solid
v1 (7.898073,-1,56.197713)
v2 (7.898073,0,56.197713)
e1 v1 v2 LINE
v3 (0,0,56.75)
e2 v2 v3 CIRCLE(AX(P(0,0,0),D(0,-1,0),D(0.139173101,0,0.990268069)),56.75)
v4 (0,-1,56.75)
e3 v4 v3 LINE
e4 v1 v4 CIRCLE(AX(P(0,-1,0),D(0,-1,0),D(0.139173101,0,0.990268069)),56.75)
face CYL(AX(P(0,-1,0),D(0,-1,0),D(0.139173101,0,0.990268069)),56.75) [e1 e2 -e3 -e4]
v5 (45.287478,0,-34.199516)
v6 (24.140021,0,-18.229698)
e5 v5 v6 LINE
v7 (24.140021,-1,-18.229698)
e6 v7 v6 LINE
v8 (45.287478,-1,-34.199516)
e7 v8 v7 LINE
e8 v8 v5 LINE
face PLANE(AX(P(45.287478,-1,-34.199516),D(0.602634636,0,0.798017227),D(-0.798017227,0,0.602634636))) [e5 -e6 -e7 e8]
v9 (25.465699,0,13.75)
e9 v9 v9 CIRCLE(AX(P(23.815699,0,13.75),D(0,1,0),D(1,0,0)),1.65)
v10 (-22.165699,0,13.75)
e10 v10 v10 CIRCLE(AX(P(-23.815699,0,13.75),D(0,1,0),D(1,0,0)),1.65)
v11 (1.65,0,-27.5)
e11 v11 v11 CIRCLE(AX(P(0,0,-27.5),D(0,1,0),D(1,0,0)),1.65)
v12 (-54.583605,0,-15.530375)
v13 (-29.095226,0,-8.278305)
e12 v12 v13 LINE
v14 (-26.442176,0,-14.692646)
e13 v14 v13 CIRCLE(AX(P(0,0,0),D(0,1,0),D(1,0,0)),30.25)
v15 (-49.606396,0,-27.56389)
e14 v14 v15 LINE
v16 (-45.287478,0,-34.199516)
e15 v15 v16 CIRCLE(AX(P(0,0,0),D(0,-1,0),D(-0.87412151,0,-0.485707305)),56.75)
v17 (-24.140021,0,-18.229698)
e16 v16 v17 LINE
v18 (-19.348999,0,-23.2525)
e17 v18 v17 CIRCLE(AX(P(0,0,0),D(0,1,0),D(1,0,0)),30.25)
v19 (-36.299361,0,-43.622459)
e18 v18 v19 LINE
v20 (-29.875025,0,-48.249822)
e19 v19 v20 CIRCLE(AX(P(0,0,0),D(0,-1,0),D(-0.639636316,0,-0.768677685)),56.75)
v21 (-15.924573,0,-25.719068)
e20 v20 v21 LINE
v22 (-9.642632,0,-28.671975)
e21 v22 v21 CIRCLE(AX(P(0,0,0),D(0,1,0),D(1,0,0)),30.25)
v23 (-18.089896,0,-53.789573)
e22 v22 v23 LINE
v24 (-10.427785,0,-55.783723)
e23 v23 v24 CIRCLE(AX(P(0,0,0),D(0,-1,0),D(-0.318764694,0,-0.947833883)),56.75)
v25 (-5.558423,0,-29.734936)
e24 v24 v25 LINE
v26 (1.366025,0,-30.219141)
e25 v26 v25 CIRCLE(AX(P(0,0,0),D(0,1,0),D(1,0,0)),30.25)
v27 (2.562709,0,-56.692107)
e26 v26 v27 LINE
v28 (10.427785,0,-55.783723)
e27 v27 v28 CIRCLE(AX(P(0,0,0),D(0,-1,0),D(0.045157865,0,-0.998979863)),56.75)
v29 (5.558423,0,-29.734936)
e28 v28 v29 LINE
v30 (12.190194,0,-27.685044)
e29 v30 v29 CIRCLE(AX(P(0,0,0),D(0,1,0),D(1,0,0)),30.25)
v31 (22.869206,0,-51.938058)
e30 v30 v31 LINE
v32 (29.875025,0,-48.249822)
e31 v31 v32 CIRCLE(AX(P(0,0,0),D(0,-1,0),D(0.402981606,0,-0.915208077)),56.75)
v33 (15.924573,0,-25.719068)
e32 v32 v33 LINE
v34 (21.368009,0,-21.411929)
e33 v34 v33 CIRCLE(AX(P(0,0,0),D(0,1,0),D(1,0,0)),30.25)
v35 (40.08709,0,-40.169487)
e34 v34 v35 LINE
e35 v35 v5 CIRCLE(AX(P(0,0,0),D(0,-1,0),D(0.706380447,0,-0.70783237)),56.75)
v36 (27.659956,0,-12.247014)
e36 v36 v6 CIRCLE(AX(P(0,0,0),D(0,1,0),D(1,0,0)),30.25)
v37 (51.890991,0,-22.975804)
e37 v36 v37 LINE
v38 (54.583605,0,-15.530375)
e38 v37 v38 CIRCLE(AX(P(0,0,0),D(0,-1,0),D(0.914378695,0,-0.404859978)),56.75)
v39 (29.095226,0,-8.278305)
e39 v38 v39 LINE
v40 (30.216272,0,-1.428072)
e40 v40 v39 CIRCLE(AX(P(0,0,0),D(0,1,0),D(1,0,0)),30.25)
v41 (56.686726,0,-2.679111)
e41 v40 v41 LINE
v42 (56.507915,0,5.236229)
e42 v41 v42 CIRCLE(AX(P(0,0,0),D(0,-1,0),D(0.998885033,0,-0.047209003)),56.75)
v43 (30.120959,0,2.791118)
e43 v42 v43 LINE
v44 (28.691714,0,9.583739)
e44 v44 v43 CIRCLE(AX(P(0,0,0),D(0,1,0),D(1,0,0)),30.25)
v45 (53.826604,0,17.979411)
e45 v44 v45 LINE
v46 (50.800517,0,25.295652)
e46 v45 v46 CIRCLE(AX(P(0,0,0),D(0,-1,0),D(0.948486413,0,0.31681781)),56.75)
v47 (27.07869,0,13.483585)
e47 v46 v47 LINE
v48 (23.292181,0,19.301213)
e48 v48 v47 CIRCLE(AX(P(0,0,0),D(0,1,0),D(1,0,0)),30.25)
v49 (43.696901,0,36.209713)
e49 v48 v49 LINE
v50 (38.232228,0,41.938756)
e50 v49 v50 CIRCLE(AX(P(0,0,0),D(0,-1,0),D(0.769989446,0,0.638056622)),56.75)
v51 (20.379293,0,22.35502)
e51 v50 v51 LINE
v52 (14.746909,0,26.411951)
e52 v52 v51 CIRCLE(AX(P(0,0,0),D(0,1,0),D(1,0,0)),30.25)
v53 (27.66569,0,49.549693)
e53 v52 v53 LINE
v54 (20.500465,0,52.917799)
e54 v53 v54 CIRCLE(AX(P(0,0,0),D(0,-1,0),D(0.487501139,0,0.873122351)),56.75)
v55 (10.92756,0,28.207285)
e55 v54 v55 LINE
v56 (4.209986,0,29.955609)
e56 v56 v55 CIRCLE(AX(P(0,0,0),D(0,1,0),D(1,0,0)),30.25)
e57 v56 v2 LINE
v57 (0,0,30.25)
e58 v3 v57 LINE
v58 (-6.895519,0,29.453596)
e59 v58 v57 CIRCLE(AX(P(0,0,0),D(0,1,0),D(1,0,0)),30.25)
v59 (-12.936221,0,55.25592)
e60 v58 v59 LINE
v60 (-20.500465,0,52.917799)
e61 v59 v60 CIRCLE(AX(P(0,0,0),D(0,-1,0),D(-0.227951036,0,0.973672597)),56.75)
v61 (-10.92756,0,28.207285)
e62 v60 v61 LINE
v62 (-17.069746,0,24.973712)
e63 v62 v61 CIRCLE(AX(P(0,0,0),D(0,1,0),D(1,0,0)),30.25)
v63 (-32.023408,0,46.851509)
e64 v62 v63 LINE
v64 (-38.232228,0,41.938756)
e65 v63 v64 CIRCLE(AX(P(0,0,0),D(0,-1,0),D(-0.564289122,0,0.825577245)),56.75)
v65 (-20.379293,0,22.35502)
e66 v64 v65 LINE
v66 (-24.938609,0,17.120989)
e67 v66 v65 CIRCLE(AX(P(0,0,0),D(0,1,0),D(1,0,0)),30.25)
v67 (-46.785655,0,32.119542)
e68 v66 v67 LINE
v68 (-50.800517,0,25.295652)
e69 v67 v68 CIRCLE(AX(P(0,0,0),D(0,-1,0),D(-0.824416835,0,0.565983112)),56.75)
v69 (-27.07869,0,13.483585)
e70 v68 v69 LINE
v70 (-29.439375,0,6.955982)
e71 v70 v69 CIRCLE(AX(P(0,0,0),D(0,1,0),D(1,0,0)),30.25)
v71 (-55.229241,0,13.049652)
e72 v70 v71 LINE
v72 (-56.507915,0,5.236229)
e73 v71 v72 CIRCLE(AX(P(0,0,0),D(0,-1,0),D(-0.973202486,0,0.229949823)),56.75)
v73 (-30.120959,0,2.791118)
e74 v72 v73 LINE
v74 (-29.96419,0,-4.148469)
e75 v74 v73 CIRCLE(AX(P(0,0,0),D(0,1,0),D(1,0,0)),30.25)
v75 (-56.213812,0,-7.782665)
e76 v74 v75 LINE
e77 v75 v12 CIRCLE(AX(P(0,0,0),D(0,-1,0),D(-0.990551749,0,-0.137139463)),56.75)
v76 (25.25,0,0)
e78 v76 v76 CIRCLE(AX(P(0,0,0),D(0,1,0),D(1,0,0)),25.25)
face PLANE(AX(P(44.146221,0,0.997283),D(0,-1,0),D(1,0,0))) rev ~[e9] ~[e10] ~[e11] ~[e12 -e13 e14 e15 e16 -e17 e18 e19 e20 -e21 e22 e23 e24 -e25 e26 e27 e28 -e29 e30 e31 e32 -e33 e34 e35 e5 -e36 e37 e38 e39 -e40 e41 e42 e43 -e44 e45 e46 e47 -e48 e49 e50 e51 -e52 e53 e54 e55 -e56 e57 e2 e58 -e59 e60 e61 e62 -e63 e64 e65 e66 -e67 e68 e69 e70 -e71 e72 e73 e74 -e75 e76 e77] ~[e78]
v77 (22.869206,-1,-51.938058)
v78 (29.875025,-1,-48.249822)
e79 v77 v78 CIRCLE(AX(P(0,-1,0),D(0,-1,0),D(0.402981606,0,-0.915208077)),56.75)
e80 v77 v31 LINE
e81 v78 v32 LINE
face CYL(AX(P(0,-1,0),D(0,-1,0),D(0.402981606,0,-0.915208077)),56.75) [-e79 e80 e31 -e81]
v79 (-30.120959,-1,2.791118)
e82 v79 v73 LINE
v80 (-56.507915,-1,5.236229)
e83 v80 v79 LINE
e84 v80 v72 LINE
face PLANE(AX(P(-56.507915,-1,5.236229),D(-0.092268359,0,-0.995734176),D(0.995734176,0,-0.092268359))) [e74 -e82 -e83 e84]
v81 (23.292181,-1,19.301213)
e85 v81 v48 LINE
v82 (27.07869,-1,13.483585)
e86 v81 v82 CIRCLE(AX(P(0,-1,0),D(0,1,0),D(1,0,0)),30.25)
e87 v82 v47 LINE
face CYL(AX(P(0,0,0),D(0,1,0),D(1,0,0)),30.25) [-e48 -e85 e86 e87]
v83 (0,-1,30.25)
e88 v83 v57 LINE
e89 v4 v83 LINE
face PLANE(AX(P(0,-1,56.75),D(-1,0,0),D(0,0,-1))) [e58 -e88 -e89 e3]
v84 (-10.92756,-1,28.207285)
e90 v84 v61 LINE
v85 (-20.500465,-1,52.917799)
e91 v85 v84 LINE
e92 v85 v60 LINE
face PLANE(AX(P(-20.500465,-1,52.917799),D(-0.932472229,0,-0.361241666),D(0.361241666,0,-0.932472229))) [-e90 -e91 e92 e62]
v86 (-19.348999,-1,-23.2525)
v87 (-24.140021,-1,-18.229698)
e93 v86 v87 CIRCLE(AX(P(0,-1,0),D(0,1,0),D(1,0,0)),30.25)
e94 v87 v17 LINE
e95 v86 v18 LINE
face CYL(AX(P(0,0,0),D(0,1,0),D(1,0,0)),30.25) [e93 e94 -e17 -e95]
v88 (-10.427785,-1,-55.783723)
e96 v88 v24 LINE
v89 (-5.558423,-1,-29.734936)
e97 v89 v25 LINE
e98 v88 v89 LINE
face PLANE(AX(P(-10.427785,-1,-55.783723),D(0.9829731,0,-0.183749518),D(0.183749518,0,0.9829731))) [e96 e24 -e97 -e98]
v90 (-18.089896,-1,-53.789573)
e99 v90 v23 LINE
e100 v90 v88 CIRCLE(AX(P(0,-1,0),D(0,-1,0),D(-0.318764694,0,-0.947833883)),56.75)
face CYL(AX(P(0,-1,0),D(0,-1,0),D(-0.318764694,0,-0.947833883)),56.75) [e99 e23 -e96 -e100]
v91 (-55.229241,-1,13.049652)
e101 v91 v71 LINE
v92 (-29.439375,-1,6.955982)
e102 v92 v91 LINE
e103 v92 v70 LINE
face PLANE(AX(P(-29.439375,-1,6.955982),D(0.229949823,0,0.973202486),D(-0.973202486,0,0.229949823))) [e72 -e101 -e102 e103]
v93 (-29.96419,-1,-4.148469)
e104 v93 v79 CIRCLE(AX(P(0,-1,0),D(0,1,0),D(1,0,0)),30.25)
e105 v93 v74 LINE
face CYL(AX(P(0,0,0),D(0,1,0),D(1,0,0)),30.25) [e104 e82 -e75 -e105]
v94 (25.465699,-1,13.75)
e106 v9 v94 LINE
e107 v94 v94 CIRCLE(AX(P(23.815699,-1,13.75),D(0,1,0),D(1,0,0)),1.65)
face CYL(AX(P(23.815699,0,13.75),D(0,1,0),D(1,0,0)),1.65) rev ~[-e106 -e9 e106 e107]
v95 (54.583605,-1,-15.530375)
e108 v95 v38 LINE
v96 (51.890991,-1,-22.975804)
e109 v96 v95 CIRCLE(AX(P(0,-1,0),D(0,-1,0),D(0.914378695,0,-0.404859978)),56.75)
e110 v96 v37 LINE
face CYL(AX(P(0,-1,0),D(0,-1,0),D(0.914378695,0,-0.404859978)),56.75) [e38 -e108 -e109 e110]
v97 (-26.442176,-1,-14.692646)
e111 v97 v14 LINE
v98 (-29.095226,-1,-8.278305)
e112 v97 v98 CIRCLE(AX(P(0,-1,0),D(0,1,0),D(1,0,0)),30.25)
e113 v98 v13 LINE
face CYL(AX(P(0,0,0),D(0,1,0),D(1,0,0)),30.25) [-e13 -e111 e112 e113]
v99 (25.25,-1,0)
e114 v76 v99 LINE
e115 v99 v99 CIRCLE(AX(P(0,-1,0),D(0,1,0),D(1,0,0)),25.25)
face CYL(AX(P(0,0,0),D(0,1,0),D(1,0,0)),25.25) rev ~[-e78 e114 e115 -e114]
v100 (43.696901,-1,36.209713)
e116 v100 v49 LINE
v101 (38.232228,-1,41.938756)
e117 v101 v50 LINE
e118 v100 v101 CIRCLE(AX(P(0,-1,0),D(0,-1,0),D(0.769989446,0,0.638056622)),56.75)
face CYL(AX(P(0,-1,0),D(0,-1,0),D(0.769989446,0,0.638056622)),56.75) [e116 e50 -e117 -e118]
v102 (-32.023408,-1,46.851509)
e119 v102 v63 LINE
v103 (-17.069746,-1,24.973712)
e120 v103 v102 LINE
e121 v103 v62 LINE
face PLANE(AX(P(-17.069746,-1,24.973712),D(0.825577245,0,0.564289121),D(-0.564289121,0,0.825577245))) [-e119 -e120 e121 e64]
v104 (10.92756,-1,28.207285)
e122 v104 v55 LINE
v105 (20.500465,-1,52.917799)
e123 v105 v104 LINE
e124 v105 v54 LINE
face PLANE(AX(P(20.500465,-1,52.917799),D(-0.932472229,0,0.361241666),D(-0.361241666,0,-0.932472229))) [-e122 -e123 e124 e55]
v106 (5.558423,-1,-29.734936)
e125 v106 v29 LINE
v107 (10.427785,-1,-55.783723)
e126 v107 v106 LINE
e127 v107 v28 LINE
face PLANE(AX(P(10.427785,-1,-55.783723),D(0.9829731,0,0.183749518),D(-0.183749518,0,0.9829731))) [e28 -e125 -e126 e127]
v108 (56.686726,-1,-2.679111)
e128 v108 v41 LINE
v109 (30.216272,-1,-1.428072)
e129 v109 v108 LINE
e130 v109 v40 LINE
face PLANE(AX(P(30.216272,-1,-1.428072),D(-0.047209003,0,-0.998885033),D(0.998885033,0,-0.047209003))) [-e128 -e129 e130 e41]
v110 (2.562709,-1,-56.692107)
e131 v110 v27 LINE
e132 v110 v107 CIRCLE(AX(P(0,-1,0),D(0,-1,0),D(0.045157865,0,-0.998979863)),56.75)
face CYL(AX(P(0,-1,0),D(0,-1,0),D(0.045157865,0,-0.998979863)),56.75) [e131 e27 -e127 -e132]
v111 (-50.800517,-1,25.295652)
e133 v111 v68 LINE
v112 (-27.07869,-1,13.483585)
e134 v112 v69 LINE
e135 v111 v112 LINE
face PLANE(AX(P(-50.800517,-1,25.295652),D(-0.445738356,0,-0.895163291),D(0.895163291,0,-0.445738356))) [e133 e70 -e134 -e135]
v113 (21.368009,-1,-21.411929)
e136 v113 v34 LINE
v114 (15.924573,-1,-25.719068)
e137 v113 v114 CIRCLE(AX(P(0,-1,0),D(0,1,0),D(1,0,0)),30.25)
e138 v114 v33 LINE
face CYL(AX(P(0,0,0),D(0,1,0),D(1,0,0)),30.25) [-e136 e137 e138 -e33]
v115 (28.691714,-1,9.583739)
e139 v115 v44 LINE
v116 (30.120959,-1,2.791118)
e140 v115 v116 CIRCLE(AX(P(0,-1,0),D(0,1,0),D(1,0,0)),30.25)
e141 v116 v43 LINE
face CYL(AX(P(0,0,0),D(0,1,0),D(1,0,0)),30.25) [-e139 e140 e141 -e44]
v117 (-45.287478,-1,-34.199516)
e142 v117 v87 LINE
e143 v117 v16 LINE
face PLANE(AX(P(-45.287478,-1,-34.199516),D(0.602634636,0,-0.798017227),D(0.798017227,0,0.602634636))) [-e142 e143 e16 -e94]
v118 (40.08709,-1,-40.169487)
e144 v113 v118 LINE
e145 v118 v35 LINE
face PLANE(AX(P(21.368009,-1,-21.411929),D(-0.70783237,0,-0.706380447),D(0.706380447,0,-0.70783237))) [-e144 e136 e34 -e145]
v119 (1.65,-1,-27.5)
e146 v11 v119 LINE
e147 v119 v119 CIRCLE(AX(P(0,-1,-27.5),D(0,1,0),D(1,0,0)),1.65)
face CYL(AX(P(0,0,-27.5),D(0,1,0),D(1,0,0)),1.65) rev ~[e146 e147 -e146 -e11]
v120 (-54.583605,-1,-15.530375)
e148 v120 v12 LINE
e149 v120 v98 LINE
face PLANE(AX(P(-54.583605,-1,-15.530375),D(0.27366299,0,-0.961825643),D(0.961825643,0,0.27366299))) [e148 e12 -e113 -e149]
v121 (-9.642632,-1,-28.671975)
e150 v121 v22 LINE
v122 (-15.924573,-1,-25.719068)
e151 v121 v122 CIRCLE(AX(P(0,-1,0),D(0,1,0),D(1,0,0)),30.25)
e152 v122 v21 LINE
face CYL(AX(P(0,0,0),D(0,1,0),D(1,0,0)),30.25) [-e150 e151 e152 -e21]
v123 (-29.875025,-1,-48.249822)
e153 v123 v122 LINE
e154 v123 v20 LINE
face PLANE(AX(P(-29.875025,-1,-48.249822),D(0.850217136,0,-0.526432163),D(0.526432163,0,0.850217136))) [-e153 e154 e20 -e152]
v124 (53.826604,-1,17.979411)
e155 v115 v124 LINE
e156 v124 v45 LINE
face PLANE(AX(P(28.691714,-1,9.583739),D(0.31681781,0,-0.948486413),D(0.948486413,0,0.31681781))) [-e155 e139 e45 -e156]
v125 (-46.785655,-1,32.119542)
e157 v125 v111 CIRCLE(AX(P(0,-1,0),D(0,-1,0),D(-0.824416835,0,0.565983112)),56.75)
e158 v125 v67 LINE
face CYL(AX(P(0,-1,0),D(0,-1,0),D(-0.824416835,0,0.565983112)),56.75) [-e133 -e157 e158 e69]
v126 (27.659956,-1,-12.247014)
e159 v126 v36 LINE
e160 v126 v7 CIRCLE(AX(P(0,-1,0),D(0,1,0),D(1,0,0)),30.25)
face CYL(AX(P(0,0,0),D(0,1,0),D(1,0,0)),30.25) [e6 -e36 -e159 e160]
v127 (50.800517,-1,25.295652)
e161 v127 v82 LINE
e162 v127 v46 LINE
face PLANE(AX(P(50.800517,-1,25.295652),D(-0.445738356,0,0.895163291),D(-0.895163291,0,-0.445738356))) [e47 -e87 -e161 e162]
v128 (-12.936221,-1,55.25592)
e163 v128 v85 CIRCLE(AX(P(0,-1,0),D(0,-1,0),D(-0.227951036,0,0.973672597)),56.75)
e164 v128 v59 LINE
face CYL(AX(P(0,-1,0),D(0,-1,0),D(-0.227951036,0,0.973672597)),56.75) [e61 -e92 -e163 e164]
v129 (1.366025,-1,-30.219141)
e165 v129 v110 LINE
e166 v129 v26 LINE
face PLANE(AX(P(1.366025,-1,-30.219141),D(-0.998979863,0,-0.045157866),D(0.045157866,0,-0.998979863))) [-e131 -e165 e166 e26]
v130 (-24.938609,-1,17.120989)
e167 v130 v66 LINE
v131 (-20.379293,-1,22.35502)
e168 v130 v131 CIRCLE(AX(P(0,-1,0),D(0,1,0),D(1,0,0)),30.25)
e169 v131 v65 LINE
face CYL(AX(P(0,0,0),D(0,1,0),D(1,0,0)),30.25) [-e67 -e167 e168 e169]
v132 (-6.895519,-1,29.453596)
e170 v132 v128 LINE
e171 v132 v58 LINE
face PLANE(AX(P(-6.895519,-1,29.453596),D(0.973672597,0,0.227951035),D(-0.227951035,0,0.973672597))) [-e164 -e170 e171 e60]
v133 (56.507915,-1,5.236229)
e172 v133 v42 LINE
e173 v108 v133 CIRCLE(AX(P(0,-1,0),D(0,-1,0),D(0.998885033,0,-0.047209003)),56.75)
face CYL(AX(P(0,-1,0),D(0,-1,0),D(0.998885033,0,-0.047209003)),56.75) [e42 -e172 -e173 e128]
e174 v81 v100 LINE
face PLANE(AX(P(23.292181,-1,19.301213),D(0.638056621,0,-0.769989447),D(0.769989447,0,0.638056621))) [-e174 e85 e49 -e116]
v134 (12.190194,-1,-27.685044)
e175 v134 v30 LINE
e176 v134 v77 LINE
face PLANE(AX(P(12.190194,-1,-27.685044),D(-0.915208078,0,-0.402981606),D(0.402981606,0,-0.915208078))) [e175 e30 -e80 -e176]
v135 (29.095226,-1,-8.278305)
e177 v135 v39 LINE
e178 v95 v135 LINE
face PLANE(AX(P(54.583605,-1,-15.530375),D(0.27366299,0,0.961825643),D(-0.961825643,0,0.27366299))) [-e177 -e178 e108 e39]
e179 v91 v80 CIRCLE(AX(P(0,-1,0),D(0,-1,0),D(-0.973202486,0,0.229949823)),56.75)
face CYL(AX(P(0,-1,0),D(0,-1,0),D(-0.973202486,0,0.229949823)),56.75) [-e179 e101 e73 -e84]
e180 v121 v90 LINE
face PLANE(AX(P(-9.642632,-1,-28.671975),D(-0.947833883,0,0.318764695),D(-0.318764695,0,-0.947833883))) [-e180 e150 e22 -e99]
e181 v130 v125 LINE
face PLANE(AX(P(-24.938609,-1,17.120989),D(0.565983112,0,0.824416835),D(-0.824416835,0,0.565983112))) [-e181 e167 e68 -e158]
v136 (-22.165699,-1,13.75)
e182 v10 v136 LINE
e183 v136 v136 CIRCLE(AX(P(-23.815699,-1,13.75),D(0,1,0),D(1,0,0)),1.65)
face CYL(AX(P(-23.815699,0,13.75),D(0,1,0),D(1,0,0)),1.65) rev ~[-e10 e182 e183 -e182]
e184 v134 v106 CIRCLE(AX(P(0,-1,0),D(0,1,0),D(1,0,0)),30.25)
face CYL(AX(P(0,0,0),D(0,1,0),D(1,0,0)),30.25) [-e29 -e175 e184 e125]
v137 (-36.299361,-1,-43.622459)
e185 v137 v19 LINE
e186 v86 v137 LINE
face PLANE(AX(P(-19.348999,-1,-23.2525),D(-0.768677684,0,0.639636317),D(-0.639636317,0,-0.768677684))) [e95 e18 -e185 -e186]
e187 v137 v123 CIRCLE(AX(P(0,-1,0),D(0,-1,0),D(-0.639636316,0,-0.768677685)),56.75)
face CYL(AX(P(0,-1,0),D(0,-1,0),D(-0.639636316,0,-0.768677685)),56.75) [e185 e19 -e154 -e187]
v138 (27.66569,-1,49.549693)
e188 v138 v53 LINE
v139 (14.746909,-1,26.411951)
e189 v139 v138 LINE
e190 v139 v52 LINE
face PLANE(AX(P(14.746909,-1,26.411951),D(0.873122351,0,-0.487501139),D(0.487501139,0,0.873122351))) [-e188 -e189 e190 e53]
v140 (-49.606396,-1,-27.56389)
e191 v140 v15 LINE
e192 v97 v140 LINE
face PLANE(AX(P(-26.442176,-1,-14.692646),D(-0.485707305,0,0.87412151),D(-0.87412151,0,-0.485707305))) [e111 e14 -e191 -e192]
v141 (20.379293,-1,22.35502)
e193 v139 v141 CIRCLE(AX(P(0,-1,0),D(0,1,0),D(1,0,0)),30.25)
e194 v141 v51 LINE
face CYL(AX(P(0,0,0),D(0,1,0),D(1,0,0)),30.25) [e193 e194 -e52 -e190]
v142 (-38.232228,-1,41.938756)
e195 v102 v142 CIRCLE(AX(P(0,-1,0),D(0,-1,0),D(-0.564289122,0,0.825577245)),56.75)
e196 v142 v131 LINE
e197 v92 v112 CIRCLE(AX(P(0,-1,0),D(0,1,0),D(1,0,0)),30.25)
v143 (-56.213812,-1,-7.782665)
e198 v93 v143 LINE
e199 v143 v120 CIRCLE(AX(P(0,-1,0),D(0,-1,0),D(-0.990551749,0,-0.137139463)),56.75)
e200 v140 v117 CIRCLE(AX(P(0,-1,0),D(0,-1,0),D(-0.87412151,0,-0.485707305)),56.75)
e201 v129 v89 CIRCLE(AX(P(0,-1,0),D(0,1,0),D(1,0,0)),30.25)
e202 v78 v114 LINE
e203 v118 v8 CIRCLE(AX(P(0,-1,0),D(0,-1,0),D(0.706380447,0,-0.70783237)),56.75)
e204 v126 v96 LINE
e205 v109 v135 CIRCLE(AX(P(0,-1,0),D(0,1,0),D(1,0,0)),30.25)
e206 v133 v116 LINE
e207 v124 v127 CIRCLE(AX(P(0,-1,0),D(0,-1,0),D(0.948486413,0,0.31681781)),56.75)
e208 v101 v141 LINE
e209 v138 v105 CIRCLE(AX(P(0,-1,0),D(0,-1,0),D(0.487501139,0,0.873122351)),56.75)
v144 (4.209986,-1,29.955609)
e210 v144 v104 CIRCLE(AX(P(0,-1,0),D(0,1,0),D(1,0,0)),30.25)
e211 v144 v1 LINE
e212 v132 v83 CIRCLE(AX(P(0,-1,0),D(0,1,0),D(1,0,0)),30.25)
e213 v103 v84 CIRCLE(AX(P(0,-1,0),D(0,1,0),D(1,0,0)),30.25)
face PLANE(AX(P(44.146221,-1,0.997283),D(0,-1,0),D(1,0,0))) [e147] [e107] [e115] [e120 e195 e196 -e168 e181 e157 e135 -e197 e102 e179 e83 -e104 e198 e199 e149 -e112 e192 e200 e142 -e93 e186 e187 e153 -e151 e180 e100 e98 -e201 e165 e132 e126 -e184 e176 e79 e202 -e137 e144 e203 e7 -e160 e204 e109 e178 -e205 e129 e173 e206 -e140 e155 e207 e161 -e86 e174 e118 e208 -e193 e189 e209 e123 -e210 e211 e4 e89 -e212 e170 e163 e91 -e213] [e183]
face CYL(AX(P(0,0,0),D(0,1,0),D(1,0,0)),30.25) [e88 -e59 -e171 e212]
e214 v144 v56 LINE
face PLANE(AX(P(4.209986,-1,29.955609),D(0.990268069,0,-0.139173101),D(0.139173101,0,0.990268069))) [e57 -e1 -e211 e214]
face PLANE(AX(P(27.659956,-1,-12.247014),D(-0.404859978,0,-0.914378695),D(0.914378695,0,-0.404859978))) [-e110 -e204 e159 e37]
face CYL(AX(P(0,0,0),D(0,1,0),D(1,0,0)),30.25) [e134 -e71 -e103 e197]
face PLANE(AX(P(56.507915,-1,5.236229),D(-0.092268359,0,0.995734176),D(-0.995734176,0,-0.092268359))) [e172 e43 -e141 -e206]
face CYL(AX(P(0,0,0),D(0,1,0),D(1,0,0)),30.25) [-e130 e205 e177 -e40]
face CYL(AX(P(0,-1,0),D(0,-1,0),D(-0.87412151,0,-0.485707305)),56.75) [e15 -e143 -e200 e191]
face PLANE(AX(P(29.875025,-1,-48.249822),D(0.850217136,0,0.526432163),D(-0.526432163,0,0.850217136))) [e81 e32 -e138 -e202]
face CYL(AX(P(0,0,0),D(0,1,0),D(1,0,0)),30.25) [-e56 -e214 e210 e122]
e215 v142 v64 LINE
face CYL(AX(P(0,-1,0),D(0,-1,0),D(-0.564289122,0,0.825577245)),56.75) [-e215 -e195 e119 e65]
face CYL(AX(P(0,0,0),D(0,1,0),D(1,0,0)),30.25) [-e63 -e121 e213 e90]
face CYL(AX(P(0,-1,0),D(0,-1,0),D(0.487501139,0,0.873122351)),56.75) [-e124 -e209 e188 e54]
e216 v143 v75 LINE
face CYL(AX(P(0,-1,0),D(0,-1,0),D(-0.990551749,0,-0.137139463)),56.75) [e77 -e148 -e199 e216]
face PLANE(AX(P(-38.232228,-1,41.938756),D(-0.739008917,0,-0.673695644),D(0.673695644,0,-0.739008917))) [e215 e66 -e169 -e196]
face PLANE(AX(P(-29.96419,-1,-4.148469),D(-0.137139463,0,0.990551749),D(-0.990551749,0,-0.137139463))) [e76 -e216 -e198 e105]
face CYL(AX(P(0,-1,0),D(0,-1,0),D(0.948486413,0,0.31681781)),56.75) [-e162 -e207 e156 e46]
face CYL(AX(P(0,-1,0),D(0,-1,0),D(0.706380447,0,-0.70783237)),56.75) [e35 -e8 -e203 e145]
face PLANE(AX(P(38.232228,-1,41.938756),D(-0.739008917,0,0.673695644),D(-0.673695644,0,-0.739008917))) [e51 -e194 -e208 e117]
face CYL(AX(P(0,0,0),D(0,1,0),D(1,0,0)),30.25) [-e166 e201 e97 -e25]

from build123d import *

# Parameters (mm, degrees)
SKETCH1_R           = 30.25
SKETCH1_R_2         = 25.25
EXTRUDE_THIN1_DEPTH = 1
SKETCH2_R           = 1.65
CUT_EXTRUDE3_DEPTH  = 10
BOSS_EXTRUDE1_DEPTH = 1


with BuildPart() as part:
    # Sketch1 → Extrude-Thin1 (new body)
    with BuildSketch(Plane(origin=(0, 0, 0), x_dir=(1, 0, 0), z_dir=(0, 1, 0))):
        Circle(SKETCH1_R)
        Circle(SKETCH1_R_2, mode=Mode.SUBTRACT)
    extrude(amount=-EXTRUDE_THIN1_DEPTH)

    # Sketch2 → Cut-Extrude3 (cut)
    with BuildSketch(Plane(origin=(0, 0, 0), x_dir=(1, 0, 0), z_dir=(0, 1, 0))):
        with Locations((0, 27.5)):
            Circle(SKETCH2_R)
        with Locations((23.815698604, -13.75)):
            Circle(SKETCH2_R)
        with Locations((-23.815698604, -13.75)):
            Circle(SKETCH2_R)
    extrude(amount=-CUT_EXTRUDE3_DEPTH, mode=Mode.SUBTRACT)

    # Sketch5 → Boss-Extrude1 (add)
    with BuildSketch(Plane.XZ.offset(1)):
        with BuildLine():
            Line((0, 56.75), (0, 30.25))
            ThreePointArc((0, 30.25), (2.110133331, 30.17631252), (4.209986304, 29.955609079))
            Line((4.209986304, 29.955609079), (7.898073479, 56.197712901))
            ThreePointArc((7.898073479, 56.197712901), (3.958679885, 56.611759852), (0, 56.75))
        make_face()
        with BuildLine():
            Line((20.500464556, 52.917799019), (10.927560402, 28.207284939))
            ThreePointArc((10.927560402, 28.207284939), (12.868582146, 27.376305331), (14.74690945, 26.411951114))
            Line((14.74690945, 26.411951114), (27.66568963, 49.549693413))
            ThreePointArc((27.66568963, 49.549693413), (24.141885513, 51.358853802), (20.500464556, 52.917799019))
        make_face()
        with BuildLine():
            Line((38.232227777, 41.938756052), (20.37929322, 22.355019746))
            ThreePointArc((20.37929322, 22.355019746), (21.889057634, 20.878976409), (23.29218076, 19.301212798))
            Line((23.29218076, 19.301212798), (43.696901095, 36.209713265))
            ThreePointArc((43.696901095, 36.209713265), (41.064595727, 39.169649957), (38.232227777, 41.938756052))
        make_face()
        with BuildLine():
            Line((50.800516784, 25.29565169), (27.078689563, 13.483585262))
            ThreePointArc((27.078689563, 13.483585262), (27.953294598, 11.561826029), (28.691713991, 9.583738741))
            Line((28.691713991, 9.583738741), (53.826603934, 17.979410696))
            ThreePointArc((53.826603934, 17.979410696), (52.441304742, 21.690367839), (50.800516784, 25.29565169))
        make_face()
        with BuildLine():
            Line((56.507914505, 5.2362294), (30.120958833, 2.791117874))
            ThreePointArc((30.120958833, 2.791117874), (30.242284232, 0.683186977), (30.216272262, -1.428072338))
            Line((30.216272262, -1.428072338), (56.686725648, -2.679110915))
            ThreePointArc((56.686725648, -2.679110915), (56.735524964, 1.281681353), (56.507914505, 5.2362294))
        make_face()
        with BuildLine():
            Line((54.58360525, -15.530374687), (29.095225706, -8.27830545))
            ThreePointArc((29.095225706, -8.27830545), (28.446885802, -10.287720262), (27.659955529, -12.247014335))
            Line((27.659955529, -12.247014335), (51.890990952, -22.975803752))
            ThreePointArc((51.890990952, -22.975803752), (53.367298157, -19.300103301), (54.58360525, -15.530374687))
        make_face()
        with BuildLine():
            Line((45.287477648, -34.199515615), (24.140021125, -18.22969775))
            ThreePointArc((24.140021125, -18.22969775), (22.809577815, -19.869213873), (21.368008534, -21.411929182))
            Line((21.368008534, -21.411929182), (40.087090389, -40.169486978))
            ThreePointArc((40.087090389, -40.169486978), (42.791522016, -37.275302059), (45.287477648, -34.199515615))
        make_face()
        with BuildLine():
            Line((29.875025243, -48.249822453), (15.924572927, -25.719068356))
            ThreePointArc((15.924572927, -25.719068356), (14.091709951, -26.767260051), (12.190193581, -27.685044346))
            Line((12.190193581, -27.685044346), (22.86920614, -51.938058402))
            ThreePointArc((22.86920614, -51.938058402), (26.43651371, -50.216264724), (29.875025243, -48.249822453))
        make_face()
        with BuildLine():
            Line((10.427785136, -55.783723407), (5.558422914, -29.734936265))
            ThreePointArc((5.558422914, -29.734936265), (3.470678574, -30.050239437), (1.366025437, -30.219140863))
            Line((1.366025437, -30.219140863), (2.562708878, -56.692107239))
            ThreePointArc((2.562708878, -56.692107239), (6.511107738, -56.375242581), (10.427785136, -55.783723407))
        make_face()
        with BuildLine():
            Line((-10.427785136, -55.783723407), (-5.558422914, -29.734936265))
            ThreePointArc((-5.558422914, -29.734936265), (-7.619087176, -29.274767473), (-9.642632011, -28.671974956))
            Line((-9.642632011, -28.671974956), (-18.089896418, -53.789572852))
            ThreePointArc((-18.089896418, -53.789572852), (-14.293659413, -54.92043154), (-10.427785136, -55.783723407))
        make_face()
        with BuildLine():
            Line((-29.875025243, -48.249822453), (-15.924572927, -25.719068356))
            ThreePointArc((-15.924572927, -25.719068356), (-17.679852984, -24.545575945), (-19.348998575, -23.252499955))
            Line((-19.348998575, -23.252499955), (-36.299360963, -43.622458593))
            ThreePointArc((-36.299360963, -43.622458593), (-33.167988656, -46.048311896), (-29.875025243, -48.249822453))
        make_face()
        with BuildLine():
            Line((-45.287477648, -34.199515615), (-24.140021125, -18.22969775))
            ThreePointArc((-24.140021125, -18.22969775), (-25.35285668, -16.501368373), (-26.442175665, -14.692645988))
            Line((-26.442175665, -14.692645988), (-49.606395668, -27.563889581))
            ThreePointArc((-49.606395668, -27.563889581), (-47.562797242, -30.957112568), (-45.287477648, -34.199515615))
        make_face()
        with BuildLine():
            Line((-54.58360525, -15.530374687), (-29.095225706, -8.27830545))
            ThreePointArc((-29.095225706, -8.27830545), (-29.601816595, -6.228559566), (-29.96419041, -4.148468765))
            Line((-29.96419041, -4.148468765), (-56.21381176, -7.782664543))
            ThreePointArc((-56.21381176, -7.782664543), (-55.533986505, -11.684983648), (-54.58360525, -15.530374687))
        make_face()
        with BuildLine():
            Line((-56.507914505, 5.2362294), (-30.120958833, 2.791117874))
            ThreePointArc((-30.120958833, 2.791117874), (-29.85288715, 4.885450725), (-29.439375202, 6.955982151))
            Line((-29.439375202, 6.955982151), (-55.229241082, 13.049652465))
            ThreePointArc((-55.229241082, 13.049652465), (-56.005003166, 9.165267062), (-56.507914505, 5.2362294))
        make_face()
        with BuildLine():
            Line((-50.800516784, 25.29565169), (-27.078689563, 13.483585262))
            ThreePointArc((-27.078689563, 13.483585262), (-26.072159875, 15.339653824), (-24.938609245, 17.120989134))
            Line((-24.938609245, 17.120989134), (-46.785655361, 32.119541598))
            ThreePointArc((-46.785655361, 32.119541598), (-48.912233816, 28.777697669), (-50.800516784, 25.29565169))
        make_face()
        with BuildLine():
            Line((-38.232227777, 41.938756052), (-20.37929322, 22.355019746))
            ThreePointArc((-20.37929322, 22.355019746), (-18.770242938, 23.722151674), (-17.06974592, 24.973711663))
            Line((-17.06974592, 24.973711663), (-32.023407634, 46.851508658))
            ThreePointArc((-32.023407634, 46.851508658), (-35.213596256, 44.503540743), (-38.232227777, 41.938756052))
        make_face()
        with BuildLine():
            Line((-20.500464556, 52.917799019), (-10.927560402, 28.207284939))
            ThreePointArc((-10.927560402, 28.207284939), (-8.933300683, 28.900841491), (-6.895518821, 29.453596049))
            Line((-6.895518821, 29.453596049), (-12.936221259, 55.25591986))
            ThreePointArc((-12.936221259, 55.25591986), (-16.759167397, 54.218934037), (-20.500464556, 52.917799019))
        make_face()
    extrude(amount=-BOSS_EXTRUDE1_DEPTH)


solid = part.part
